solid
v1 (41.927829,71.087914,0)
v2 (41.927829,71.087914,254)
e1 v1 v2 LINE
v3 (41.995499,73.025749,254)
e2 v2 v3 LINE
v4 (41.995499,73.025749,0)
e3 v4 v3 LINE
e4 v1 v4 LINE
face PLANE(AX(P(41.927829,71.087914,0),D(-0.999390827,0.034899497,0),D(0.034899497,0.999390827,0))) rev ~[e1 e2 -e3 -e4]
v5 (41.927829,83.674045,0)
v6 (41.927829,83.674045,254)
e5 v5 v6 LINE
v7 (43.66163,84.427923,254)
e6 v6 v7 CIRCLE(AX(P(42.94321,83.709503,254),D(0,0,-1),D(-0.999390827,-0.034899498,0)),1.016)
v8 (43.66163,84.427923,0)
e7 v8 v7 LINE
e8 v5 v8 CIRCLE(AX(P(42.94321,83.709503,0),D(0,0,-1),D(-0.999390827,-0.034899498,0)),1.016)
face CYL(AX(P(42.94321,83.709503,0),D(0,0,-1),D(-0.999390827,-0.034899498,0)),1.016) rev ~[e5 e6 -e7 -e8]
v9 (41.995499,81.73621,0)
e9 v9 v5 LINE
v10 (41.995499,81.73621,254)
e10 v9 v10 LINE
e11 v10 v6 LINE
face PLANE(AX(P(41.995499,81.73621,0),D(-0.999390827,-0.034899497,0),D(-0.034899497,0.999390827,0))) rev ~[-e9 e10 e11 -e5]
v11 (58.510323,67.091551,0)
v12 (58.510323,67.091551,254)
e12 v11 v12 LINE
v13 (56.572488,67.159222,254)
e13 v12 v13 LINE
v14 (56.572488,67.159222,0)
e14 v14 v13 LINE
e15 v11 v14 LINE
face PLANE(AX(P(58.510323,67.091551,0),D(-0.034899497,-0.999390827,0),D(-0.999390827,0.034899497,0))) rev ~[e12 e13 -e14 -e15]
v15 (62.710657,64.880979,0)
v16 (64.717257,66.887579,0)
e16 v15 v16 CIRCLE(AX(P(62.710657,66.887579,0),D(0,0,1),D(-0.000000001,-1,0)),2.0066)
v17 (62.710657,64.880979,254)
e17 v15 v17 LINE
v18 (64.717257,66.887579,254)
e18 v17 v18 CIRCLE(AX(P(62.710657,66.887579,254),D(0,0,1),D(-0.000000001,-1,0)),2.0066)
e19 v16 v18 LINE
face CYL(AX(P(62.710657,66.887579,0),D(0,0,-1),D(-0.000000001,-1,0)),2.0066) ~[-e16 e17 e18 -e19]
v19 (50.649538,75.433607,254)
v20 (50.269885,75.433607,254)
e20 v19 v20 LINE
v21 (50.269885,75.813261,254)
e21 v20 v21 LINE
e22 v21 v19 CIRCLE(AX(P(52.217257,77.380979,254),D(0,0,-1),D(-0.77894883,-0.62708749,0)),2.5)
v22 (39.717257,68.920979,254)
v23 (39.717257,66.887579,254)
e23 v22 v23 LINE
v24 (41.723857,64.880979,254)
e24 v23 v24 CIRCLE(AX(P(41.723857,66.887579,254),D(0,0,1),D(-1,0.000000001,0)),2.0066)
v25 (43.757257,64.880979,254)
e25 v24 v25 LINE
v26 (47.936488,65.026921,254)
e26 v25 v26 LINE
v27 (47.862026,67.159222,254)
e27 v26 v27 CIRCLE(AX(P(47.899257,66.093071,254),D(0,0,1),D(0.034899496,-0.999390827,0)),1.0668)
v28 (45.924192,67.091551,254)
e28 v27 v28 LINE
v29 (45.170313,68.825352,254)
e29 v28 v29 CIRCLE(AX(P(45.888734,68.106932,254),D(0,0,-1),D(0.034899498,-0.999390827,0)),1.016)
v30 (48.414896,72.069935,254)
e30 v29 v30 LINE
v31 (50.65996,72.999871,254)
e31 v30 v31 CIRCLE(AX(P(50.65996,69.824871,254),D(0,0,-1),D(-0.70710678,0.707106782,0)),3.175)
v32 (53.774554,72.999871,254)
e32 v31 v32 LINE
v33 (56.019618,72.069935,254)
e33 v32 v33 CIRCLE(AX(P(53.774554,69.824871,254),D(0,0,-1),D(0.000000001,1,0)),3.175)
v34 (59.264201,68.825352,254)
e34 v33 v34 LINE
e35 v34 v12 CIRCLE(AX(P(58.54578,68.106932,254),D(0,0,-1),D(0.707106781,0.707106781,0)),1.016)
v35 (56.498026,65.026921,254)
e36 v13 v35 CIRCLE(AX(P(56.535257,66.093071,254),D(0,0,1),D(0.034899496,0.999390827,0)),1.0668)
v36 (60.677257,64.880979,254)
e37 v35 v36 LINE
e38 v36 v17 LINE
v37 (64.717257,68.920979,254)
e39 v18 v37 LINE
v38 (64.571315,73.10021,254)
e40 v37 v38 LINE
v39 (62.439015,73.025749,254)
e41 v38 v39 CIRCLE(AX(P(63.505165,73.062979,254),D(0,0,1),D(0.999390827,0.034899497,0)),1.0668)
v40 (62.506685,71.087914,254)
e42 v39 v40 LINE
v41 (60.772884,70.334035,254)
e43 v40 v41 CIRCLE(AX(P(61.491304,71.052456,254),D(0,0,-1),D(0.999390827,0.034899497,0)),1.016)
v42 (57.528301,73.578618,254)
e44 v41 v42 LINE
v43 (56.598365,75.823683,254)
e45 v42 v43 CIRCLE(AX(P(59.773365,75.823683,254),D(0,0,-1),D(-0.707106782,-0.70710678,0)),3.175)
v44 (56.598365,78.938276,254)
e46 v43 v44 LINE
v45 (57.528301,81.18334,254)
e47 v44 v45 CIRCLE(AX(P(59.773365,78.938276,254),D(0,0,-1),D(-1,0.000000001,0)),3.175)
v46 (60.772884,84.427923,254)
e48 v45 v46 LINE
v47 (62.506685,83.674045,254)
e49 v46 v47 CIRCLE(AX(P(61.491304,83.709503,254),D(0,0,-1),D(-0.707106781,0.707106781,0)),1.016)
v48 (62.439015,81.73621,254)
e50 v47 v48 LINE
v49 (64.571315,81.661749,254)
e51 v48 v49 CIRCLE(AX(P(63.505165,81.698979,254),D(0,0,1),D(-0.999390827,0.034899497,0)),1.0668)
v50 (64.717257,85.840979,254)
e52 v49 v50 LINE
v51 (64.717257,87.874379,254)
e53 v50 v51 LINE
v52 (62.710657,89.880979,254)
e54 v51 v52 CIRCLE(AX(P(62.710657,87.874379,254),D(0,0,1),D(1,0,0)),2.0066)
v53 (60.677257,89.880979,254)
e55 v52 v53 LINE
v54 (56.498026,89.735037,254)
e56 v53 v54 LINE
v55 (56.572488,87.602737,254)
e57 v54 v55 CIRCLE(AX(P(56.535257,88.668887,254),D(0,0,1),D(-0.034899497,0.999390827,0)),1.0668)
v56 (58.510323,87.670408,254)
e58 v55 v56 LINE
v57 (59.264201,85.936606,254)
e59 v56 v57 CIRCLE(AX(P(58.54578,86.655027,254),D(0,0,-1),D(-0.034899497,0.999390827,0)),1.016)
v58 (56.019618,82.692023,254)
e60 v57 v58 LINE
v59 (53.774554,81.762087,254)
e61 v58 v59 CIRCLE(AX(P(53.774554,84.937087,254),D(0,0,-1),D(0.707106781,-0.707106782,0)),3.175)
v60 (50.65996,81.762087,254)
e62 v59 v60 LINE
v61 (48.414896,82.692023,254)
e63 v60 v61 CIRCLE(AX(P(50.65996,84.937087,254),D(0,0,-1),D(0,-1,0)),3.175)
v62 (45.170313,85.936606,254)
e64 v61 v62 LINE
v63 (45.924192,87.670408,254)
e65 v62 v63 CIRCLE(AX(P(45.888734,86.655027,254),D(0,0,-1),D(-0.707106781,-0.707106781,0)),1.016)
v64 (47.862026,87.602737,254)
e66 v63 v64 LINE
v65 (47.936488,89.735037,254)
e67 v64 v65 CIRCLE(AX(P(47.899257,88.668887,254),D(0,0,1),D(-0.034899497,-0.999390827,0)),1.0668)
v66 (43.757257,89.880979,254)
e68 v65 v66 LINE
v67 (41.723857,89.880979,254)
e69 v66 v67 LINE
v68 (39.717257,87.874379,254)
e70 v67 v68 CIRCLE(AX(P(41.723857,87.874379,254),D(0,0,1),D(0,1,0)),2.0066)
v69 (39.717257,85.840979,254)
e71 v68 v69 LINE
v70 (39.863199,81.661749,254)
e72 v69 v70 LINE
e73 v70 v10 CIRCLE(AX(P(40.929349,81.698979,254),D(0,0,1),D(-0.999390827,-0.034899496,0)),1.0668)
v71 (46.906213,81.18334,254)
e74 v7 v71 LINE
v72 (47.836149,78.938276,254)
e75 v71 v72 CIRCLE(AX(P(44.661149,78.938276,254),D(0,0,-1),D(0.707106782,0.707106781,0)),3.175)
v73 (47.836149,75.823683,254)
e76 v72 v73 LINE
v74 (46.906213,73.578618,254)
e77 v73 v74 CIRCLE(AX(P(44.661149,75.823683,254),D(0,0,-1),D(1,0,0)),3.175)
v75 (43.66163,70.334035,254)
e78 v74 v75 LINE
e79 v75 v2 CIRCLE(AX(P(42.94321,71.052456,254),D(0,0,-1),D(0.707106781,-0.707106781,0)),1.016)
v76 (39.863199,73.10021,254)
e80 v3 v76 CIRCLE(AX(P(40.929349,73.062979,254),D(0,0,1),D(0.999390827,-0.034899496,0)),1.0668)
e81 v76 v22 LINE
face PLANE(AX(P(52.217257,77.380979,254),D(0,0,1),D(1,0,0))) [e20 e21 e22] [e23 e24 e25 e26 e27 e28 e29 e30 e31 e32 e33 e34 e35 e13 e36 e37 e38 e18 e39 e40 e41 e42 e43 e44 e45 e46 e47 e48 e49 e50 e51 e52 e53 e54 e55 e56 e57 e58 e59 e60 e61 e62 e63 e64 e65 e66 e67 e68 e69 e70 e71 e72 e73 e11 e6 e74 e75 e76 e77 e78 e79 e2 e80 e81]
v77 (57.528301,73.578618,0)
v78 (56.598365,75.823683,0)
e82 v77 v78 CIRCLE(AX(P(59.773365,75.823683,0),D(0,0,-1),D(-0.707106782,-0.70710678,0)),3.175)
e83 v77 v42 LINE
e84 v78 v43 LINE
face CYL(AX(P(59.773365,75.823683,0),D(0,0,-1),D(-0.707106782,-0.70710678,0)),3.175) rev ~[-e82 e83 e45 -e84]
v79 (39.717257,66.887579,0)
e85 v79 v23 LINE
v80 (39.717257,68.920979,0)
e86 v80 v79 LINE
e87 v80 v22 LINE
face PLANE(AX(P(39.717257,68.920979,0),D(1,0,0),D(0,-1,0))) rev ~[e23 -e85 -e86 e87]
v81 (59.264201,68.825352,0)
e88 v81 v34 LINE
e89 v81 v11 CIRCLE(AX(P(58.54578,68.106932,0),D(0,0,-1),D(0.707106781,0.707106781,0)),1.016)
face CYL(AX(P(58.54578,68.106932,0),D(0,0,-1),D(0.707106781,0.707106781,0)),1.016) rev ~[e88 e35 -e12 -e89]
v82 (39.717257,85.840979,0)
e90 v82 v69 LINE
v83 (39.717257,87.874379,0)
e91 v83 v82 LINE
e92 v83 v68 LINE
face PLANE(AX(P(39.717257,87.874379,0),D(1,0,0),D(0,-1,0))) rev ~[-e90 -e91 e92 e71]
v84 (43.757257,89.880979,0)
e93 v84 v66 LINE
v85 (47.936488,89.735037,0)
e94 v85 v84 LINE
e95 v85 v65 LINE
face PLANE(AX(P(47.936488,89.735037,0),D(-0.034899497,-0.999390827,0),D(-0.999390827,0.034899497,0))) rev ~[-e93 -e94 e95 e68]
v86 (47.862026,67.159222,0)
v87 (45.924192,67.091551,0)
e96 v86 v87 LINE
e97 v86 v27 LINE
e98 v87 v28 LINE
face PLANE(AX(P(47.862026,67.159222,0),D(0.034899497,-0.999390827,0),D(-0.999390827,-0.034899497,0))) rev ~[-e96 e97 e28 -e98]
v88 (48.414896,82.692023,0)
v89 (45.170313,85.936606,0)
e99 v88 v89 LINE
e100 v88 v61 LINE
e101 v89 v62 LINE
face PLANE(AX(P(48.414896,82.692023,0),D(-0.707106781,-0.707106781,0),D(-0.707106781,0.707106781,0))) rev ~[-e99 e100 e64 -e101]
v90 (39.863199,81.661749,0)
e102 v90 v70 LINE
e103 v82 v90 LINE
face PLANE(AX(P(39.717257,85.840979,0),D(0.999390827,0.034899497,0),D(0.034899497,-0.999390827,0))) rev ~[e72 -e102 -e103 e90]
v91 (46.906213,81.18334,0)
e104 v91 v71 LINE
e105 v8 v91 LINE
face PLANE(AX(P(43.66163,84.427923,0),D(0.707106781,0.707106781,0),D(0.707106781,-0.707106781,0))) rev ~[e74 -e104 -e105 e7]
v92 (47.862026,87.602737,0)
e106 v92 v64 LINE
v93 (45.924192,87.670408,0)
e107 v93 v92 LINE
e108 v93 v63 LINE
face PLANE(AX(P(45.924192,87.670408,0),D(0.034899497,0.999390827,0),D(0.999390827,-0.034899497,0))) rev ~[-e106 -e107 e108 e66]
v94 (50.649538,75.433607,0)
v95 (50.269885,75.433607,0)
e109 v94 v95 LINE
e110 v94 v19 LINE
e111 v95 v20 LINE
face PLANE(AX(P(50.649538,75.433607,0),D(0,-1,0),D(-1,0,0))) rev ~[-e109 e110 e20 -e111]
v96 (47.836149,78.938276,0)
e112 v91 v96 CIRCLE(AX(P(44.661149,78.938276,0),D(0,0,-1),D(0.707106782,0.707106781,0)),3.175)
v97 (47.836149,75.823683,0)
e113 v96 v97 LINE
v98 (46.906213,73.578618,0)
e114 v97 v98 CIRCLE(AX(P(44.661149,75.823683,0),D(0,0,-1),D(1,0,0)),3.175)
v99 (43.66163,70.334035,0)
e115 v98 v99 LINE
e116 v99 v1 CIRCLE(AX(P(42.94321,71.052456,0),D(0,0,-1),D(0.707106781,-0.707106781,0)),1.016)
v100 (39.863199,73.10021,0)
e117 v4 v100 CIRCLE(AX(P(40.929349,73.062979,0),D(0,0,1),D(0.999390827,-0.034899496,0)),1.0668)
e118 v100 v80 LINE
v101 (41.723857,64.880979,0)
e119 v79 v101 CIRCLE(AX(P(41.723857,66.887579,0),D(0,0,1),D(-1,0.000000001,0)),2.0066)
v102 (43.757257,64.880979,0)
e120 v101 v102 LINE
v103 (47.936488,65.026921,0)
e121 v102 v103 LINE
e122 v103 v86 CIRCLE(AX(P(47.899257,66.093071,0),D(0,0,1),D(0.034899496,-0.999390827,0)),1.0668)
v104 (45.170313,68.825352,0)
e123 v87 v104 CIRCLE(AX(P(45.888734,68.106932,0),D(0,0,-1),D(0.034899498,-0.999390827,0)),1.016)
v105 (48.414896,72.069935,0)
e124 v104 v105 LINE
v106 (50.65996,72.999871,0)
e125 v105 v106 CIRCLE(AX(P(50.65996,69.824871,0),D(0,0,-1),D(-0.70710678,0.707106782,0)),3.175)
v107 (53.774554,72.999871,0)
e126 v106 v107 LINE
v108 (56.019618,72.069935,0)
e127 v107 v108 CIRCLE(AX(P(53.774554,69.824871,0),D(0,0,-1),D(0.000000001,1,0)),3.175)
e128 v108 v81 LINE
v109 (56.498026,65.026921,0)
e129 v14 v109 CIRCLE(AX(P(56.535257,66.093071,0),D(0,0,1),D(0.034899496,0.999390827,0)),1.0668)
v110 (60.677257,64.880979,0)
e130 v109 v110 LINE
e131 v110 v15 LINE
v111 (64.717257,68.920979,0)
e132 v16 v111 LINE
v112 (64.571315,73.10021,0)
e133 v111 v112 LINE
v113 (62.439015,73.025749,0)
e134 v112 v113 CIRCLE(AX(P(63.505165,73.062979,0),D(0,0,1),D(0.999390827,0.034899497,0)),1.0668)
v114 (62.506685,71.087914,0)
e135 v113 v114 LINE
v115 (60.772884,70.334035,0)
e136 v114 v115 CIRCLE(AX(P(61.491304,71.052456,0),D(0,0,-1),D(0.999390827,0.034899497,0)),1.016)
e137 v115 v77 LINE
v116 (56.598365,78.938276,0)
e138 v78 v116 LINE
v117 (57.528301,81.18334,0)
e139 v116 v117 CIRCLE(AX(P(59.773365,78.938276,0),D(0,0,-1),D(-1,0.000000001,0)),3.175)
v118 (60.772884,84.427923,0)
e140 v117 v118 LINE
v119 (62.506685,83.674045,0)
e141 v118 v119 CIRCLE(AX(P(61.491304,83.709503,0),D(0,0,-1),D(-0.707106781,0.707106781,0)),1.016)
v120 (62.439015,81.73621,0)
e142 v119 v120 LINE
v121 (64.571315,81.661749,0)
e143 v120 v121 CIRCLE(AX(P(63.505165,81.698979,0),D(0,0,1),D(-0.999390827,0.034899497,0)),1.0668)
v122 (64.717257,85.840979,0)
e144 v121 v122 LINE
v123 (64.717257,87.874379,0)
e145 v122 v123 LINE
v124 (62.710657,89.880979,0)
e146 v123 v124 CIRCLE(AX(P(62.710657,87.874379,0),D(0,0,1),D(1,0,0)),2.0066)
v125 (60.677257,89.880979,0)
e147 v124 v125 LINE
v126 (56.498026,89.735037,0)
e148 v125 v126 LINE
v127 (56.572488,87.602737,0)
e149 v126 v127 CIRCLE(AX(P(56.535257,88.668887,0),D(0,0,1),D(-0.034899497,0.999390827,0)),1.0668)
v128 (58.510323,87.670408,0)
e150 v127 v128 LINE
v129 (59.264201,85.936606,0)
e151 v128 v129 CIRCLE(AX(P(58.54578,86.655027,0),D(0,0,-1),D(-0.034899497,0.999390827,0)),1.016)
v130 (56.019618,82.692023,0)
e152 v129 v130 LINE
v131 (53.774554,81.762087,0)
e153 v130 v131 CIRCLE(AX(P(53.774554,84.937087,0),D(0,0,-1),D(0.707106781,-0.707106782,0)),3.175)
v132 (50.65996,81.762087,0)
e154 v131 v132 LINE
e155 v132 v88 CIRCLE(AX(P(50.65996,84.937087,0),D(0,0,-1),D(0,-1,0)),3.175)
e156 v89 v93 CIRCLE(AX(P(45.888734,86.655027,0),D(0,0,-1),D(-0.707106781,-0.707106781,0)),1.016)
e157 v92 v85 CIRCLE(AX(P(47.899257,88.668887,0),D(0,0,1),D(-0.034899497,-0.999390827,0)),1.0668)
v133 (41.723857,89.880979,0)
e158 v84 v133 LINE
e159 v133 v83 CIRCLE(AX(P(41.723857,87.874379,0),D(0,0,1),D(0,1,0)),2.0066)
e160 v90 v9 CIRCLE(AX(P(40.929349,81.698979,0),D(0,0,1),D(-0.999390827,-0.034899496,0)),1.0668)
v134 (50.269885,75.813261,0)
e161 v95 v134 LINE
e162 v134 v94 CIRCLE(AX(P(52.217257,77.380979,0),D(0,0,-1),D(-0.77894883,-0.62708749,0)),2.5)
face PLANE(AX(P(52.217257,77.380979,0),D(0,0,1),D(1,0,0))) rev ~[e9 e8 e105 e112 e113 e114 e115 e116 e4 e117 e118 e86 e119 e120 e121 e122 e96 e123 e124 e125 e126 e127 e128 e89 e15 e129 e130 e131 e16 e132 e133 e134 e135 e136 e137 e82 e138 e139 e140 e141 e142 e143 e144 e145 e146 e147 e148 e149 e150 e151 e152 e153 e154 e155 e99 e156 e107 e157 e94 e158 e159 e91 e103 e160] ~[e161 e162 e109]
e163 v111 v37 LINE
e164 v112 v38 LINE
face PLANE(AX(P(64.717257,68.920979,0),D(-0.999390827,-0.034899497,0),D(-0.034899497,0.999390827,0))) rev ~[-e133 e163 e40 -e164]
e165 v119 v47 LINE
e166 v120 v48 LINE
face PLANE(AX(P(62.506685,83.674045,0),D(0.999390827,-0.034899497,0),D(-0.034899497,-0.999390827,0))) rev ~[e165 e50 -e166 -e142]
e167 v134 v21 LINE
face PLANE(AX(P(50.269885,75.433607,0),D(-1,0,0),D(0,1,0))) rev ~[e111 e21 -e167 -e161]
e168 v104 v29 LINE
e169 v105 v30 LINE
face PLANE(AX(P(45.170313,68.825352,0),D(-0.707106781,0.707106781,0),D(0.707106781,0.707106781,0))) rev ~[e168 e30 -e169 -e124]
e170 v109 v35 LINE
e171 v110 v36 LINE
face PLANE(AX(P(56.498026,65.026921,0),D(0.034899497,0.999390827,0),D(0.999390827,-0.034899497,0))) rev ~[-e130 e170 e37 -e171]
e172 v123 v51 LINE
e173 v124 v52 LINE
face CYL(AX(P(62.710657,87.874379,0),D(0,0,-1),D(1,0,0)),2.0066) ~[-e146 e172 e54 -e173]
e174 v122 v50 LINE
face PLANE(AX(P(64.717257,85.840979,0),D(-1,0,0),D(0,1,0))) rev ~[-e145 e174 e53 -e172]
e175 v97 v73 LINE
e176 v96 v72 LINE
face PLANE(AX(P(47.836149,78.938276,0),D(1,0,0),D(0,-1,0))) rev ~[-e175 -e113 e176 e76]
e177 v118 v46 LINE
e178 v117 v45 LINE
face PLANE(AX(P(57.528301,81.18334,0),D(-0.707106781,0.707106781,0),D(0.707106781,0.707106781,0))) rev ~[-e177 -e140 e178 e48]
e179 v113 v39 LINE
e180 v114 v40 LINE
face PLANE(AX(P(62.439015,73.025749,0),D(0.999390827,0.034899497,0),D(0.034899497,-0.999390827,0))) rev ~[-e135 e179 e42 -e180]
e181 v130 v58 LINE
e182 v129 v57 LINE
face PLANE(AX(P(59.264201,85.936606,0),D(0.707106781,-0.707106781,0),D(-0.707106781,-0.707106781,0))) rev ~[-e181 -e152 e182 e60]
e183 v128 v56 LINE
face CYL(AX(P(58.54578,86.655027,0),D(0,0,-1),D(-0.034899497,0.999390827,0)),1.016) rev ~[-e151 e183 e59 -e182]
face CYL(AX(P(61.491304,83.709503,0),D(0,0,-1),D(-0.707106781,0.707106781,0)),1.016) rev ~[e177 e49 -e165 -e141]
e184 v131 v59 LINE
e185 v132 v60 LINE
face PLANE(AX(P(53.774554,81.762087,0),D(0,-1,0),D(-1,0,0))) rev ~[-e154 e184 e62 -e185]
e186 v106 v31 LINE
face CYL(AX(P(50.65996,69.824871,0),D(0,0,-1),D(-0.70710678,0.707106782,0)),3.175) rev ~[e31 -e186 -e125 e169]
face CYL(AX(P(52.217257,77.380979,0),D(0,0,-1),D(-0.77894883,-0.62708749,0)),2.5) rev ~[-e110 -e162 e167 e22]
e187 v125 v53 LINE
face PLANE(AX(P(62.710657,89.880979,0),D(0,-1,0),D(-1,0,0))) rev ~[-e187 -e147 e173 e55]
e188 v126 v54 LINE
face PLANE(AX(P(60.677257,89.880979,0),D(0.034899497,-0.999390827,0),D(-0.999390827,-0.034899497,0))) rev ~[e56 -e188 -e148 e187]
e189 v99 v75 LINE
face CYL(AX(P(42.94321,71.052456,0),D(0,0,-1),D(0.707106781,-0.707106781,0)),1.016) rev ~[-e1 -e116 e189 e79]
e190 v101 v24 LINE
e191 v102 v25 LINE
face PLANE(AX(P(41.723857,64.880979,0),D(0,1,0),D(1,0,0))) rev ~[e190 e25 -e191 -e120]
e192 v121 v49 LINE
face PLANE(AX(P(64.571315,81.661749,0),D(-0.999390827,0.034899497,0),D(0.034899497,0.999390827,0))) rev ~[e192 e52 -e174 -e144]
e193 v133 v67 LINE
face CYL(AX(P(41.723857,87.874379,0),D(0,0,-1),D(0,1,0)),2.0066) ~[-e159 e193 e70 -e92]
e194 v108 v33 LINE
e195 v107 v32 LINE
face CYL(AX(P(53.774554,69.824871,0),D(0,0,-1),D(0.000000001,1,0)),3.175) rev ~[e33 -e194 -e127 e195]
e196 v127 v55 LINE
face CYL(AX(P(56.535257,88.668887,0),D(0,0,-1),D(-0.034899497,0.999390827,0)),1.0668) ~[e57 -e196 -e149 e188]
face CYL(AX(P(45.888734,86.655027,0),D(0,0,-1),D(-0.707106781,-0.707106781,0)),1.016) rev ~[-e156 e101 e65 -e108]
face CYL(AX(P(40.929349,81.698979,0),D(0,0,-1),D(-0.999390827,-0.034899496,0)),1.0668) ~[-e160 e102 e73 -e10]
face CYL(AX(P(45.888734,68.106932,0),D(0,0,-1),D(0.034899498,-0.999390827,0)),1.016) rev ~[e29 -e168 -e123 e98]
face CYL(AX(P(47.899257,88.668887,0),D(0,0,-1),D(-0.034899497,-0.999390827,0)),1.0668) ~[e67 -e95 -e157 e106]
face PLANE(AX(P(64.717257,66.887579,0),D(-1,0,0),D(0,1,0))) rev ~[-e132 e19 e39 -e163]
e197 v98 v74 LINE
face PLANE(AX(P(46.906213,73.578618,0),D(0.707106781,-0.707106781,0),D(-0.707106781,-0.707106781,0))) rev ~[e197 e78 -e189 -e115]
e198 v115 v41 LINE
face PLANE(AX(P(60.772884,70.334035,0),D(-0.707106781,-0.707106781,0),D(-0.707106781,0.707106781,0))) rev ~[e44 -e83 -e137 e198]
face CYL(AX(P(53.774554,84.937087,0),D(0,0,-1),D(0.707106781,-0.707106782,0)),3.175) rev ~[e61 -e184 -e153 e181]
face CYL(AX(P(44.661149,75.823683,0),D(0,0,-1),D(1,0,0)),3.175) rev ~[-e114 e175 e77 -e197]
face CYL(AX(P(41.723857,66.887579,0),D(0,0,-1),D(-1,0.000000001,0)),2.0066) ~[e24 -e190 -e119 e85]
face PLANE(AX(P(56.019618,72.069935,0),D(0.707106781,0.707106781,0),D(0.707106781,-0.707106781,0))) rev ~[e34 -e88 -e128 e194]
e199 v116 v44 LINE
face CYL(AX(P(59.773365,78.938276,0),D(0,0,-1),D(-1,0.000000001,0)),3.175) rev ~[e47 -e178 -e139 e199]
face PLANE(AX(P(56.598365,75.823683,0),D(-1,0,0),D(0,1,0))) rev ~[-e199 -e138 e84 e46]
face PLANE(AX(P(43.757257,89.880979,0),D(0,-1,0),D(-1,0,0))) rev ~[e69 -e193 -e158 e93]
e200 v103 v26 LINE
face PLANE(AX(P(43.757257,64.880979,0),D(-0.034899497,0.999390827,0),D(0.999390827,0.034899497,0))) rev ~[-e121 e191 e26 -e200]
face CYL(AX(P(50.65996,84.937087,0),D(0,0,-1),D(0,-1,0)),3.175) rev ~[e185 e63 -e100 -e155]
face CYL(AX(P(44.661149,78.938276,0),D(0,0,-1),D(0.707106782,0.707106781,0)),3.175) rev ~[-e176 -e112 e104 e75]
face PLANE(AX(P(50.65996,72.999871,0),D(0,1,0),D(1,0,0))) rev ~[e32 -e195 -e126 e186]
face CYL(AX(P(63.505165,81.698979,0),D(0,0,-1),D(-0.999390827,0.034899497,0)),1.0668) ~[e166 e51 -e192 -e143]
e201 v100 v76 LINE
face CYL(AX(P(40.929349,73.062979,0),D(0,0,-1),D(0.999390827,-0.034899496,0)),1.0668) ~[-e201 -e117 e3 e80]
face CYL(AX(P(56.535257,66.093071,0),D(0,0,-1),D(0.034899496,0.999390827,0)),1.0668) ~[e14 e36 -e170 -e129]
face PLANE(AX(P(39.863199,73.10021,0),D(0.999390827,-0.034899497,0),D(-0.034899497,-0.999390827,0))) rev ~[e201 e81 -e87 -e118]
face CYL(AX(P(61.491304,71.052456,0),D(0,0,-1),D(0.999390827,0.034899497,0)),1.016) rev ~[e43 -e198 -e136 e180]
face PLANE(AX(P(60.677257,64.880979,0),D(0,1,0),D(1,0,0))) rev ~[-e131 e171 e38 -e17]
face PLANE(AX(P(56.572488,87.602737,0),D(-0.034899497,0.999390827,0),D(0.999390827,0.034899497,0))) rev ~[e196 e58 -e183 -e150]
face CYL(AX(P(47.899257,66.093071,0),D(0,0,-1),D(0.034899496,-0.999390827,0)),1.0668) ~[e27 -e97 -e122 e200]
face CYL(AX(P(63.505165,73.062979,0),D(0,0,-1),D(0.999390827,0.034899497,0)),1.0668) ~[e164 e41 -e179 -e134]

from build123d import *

# Parameters (mm, degrees)
BOSS_EXTRUDE1_DEPTH = 254


with BuildPart() as part:
    # Model → Boss-Extrude1 (new body)
    with BuildSketch(Plane.XY):
        with BuildLine():
            Line((50.659960212, 72.999871414), (53.774553856, 72.999871414))
            ThreePointArc((53.774553856, 72.999871414), (54.989573754, 72.758188929), (56.019617887, 72.069935444))
            Line((56.019617887, 72.069935444), (59.264200891, 68.825352439))
            ThreePointArc((59.264200891, 68.825352439), (59.477513437, 67.701802895), (58.510322513, 67.091550869))
            Line((58.510322513, 67.091550869), (56.572487817, 67.159221548))
            ThreePointArc((56.572487817, 67.159221548), (55.4691069, 66.130302197), (56.498026251, 65.026921279))
            Line((56.498026251, 65.026921279), (60.677257034, 64.880979325))
            Line((60.677257034, 64.880979325), (62.710657034, 64.880979325))
            ThreePointArc((62.710657034, 64.880979325), (64.129537501, 65.468698857), (64.717257034, 66.887579325))
            Line((64.717257034, 66.887579325), (64.717257034, 68.920979325))
            Line((64.717257034, 68.920979325), (64.57131508, 73.100210108))
            ThreePointArc((64.57131508, 73.100210108), (63.467934162, 74.129129459), (62.439014811, 73.025748542))
            Line((62.439014811, 73.025748542), (62.50668549, 71.087913846))
            ThreePointArc((62.50668549, 71.087913846), (61.896433464, 70.120722922), (60.77288392, 70.334035468))
            Line((60.77288392, 70.334035468), (57.528300915, 73.578618472))
            ThreePointArc((57.528300915, 73.578618472), (56.84004743, 74.608662605), (56.598364945, 75.823682503))
            Line((56.598364945, 75.823682503), (56.598364945, 78.938276147))
            ThreePointArc((56.598364945, 78.938276147), (56.84004743, 80.153296044), (57.528300915, 81.183340177))
            Line((57.528300915, 81.183340177), (60.77288392, 84.427923182))
            ThreePointArc((60.77288392, 84.427923182), (61.896433464, 84.641235728), (62.50668549, 83.674044803))
            Line((62.50668549, 83.674044803), (62.439014811, 81.736210108))
            ThreePointArc((62.439014811, 81.736210108), (63.467934162, 80.63282919), (64.57131508, 81.661748542))
            Line((64.57131508, 81.661748542), (64.717257034, 85.840979325))
            Line((64.717257034, 85.840979325), (64.717257034, 87.874379325))
            ThreePointArc((64.717257034, 87.874379325), (64.129537501, 89.293259792), (62.710657034, 89.880979325))
            Line((62.710657034, 89.880979325), (60.677257034, 89.880979325))
            Line((60.677257034, 89.880979325), (56.498026251, 89.73503737))
            ThreePointArc((56.498026251, 89.73503737), (55.4691069, 88.631656452), (56.572487817, 87.602737101))
            Line((56.572487817, 87.602737101), (58.510322513, 87.67040778))
            ThreePointArc((58.510322513, 87.67040778), (59.477513437, 87.060155754), (59.264200891, 85.93660621))
            Line((59.264200891, 85.93660621), (56.019617887, 82.692023205))
            ThreePointArc((56.019617887, 82.692023205), (54.989573754, 82.00376972), (53.774553856, 81.762087236))
            Line((53.774553856, 81.762087236), (50.659960212, 81.762087236))
            ThreePointArc((50.659960212, 81.762087236), (49.444940315, 82.00376972), (48.414896182, 82.692023205))
            Line((48.414896182, 82.692023205), (45.170313177, 85.93660621))
            ThreePointArc((45.170313177, 85.93660621), (44.957000631, 87.060155754), (45.924191556, 87.67040778))
            Line((45.924191556, 87.67040778), (47.862026251, 87.602737101))
            ThreePointArc((47.862026251, 87.602737101), (48.965407169, 88.631656452), (47.936487817, 89.73503737))
            Line((47.936487817, 89.73503737), (43.757257034, 89.880979325))
            Line((43.757257034, 89.880979325), (41.723857034, 89.880979325))
            ThreePointArc((41.723857034, 89.880979325), (40.304976567, 89.293259792), (39.717257034, 87.874379325))
            Line((39.717257034, 87.874379325), (39.717257034, 85.840979325))
            Line((39.717257034, 85.840979325), (39.863198989, 81.661748542))
            ThreePointArc((39.863198989, 81.661748542), (40.966579907, 80.63282919), (41.995499258, 81.736210108))
            Line((41.995499258, 81.736210108), (41.927828579, 83.674044803))
            ThreePointArc((41.927828579, 83.674044803), (42.538080605, 84.641235728), (43.661630149, 84.427923182))
            Line((43.661630149, 84.427923182), (46.906213154, 81.183340177))
            ThreePointArc((46.906213154, 81.183340177), (47.594466639, 80.153296044), (47.836149123, 78.938276147))
            Line((47.836149123, 78.938276147), (47.836149123, 75.823682503))
            ThreePointArc((47.836149123, 75.823682503), (47.594466639, 74.608662605), (46.906213154, 73.578618472))
            Line((46.906213154, 73.578618472), (43.661630149, 70.334035468))
            ThreePointArc((43.661630149, 70.334035468), (42.538080605, 70.120722922), (41.927828579, 71.087913846))
            Line((41.927828579, 71.087913846), (41.995499258, 73.025748542))
            ThreePointArc((41.995499258, 73.025748542), (40.966579907, 74.129129459), (39.863198989, 73.100210108))
            Line((39.863198989, 73.100210108), (39.717257034, 68.920979325))
            Line((39.717257034, 68.920979325), (39.717257034, 66.887579325))
            ThreePointArc((39.717257034, 66.887579325), (40.304976567, 65.468698857), (41.723857034, 64.880979325))
            Line((41.723857034, 64.880979325), (43.757257034, 64.880979325))
            Line((43.757257034, 64.880979325), (47.936487817, 65.026921279))
            ThreePointArc((47.936487817, 65.026921279), (48.965407169, 66.130302197), (47.862026251, 67.159221548))
            Line((47.862026251, 67.159221548), (45.924191556, 67.091550869))
            ThreePointArc((45.924191556, 67.091550869), (44.957000631, 67.701802895), (45.170313177, 68.825352439))
            Line((45.170313177, 68.825352439), (48.414896182, 72.069935444))
            ThreePointArc((48.414896182, 72.069935444), (49.444940315, 72.758188929), (50.659960212, 72.999871414))
        make_face()
        with BuildLine():
            Line((50.64953831, 75.433607249), (50.269884959, 75.433607249))
            Line((50.269884959, 75.433607249), (50.269884959, 75.8132606))
            ThreePointArc((50.269884959, 75.8132606), (53.985023987, 79.148746278), (50.64953831, 75.433607249))
        make_face(mode=Mode.SUBTRACT)
    extrude(amount=BOSS_EXTRUDE1_DEPTH)


solid = part.part
